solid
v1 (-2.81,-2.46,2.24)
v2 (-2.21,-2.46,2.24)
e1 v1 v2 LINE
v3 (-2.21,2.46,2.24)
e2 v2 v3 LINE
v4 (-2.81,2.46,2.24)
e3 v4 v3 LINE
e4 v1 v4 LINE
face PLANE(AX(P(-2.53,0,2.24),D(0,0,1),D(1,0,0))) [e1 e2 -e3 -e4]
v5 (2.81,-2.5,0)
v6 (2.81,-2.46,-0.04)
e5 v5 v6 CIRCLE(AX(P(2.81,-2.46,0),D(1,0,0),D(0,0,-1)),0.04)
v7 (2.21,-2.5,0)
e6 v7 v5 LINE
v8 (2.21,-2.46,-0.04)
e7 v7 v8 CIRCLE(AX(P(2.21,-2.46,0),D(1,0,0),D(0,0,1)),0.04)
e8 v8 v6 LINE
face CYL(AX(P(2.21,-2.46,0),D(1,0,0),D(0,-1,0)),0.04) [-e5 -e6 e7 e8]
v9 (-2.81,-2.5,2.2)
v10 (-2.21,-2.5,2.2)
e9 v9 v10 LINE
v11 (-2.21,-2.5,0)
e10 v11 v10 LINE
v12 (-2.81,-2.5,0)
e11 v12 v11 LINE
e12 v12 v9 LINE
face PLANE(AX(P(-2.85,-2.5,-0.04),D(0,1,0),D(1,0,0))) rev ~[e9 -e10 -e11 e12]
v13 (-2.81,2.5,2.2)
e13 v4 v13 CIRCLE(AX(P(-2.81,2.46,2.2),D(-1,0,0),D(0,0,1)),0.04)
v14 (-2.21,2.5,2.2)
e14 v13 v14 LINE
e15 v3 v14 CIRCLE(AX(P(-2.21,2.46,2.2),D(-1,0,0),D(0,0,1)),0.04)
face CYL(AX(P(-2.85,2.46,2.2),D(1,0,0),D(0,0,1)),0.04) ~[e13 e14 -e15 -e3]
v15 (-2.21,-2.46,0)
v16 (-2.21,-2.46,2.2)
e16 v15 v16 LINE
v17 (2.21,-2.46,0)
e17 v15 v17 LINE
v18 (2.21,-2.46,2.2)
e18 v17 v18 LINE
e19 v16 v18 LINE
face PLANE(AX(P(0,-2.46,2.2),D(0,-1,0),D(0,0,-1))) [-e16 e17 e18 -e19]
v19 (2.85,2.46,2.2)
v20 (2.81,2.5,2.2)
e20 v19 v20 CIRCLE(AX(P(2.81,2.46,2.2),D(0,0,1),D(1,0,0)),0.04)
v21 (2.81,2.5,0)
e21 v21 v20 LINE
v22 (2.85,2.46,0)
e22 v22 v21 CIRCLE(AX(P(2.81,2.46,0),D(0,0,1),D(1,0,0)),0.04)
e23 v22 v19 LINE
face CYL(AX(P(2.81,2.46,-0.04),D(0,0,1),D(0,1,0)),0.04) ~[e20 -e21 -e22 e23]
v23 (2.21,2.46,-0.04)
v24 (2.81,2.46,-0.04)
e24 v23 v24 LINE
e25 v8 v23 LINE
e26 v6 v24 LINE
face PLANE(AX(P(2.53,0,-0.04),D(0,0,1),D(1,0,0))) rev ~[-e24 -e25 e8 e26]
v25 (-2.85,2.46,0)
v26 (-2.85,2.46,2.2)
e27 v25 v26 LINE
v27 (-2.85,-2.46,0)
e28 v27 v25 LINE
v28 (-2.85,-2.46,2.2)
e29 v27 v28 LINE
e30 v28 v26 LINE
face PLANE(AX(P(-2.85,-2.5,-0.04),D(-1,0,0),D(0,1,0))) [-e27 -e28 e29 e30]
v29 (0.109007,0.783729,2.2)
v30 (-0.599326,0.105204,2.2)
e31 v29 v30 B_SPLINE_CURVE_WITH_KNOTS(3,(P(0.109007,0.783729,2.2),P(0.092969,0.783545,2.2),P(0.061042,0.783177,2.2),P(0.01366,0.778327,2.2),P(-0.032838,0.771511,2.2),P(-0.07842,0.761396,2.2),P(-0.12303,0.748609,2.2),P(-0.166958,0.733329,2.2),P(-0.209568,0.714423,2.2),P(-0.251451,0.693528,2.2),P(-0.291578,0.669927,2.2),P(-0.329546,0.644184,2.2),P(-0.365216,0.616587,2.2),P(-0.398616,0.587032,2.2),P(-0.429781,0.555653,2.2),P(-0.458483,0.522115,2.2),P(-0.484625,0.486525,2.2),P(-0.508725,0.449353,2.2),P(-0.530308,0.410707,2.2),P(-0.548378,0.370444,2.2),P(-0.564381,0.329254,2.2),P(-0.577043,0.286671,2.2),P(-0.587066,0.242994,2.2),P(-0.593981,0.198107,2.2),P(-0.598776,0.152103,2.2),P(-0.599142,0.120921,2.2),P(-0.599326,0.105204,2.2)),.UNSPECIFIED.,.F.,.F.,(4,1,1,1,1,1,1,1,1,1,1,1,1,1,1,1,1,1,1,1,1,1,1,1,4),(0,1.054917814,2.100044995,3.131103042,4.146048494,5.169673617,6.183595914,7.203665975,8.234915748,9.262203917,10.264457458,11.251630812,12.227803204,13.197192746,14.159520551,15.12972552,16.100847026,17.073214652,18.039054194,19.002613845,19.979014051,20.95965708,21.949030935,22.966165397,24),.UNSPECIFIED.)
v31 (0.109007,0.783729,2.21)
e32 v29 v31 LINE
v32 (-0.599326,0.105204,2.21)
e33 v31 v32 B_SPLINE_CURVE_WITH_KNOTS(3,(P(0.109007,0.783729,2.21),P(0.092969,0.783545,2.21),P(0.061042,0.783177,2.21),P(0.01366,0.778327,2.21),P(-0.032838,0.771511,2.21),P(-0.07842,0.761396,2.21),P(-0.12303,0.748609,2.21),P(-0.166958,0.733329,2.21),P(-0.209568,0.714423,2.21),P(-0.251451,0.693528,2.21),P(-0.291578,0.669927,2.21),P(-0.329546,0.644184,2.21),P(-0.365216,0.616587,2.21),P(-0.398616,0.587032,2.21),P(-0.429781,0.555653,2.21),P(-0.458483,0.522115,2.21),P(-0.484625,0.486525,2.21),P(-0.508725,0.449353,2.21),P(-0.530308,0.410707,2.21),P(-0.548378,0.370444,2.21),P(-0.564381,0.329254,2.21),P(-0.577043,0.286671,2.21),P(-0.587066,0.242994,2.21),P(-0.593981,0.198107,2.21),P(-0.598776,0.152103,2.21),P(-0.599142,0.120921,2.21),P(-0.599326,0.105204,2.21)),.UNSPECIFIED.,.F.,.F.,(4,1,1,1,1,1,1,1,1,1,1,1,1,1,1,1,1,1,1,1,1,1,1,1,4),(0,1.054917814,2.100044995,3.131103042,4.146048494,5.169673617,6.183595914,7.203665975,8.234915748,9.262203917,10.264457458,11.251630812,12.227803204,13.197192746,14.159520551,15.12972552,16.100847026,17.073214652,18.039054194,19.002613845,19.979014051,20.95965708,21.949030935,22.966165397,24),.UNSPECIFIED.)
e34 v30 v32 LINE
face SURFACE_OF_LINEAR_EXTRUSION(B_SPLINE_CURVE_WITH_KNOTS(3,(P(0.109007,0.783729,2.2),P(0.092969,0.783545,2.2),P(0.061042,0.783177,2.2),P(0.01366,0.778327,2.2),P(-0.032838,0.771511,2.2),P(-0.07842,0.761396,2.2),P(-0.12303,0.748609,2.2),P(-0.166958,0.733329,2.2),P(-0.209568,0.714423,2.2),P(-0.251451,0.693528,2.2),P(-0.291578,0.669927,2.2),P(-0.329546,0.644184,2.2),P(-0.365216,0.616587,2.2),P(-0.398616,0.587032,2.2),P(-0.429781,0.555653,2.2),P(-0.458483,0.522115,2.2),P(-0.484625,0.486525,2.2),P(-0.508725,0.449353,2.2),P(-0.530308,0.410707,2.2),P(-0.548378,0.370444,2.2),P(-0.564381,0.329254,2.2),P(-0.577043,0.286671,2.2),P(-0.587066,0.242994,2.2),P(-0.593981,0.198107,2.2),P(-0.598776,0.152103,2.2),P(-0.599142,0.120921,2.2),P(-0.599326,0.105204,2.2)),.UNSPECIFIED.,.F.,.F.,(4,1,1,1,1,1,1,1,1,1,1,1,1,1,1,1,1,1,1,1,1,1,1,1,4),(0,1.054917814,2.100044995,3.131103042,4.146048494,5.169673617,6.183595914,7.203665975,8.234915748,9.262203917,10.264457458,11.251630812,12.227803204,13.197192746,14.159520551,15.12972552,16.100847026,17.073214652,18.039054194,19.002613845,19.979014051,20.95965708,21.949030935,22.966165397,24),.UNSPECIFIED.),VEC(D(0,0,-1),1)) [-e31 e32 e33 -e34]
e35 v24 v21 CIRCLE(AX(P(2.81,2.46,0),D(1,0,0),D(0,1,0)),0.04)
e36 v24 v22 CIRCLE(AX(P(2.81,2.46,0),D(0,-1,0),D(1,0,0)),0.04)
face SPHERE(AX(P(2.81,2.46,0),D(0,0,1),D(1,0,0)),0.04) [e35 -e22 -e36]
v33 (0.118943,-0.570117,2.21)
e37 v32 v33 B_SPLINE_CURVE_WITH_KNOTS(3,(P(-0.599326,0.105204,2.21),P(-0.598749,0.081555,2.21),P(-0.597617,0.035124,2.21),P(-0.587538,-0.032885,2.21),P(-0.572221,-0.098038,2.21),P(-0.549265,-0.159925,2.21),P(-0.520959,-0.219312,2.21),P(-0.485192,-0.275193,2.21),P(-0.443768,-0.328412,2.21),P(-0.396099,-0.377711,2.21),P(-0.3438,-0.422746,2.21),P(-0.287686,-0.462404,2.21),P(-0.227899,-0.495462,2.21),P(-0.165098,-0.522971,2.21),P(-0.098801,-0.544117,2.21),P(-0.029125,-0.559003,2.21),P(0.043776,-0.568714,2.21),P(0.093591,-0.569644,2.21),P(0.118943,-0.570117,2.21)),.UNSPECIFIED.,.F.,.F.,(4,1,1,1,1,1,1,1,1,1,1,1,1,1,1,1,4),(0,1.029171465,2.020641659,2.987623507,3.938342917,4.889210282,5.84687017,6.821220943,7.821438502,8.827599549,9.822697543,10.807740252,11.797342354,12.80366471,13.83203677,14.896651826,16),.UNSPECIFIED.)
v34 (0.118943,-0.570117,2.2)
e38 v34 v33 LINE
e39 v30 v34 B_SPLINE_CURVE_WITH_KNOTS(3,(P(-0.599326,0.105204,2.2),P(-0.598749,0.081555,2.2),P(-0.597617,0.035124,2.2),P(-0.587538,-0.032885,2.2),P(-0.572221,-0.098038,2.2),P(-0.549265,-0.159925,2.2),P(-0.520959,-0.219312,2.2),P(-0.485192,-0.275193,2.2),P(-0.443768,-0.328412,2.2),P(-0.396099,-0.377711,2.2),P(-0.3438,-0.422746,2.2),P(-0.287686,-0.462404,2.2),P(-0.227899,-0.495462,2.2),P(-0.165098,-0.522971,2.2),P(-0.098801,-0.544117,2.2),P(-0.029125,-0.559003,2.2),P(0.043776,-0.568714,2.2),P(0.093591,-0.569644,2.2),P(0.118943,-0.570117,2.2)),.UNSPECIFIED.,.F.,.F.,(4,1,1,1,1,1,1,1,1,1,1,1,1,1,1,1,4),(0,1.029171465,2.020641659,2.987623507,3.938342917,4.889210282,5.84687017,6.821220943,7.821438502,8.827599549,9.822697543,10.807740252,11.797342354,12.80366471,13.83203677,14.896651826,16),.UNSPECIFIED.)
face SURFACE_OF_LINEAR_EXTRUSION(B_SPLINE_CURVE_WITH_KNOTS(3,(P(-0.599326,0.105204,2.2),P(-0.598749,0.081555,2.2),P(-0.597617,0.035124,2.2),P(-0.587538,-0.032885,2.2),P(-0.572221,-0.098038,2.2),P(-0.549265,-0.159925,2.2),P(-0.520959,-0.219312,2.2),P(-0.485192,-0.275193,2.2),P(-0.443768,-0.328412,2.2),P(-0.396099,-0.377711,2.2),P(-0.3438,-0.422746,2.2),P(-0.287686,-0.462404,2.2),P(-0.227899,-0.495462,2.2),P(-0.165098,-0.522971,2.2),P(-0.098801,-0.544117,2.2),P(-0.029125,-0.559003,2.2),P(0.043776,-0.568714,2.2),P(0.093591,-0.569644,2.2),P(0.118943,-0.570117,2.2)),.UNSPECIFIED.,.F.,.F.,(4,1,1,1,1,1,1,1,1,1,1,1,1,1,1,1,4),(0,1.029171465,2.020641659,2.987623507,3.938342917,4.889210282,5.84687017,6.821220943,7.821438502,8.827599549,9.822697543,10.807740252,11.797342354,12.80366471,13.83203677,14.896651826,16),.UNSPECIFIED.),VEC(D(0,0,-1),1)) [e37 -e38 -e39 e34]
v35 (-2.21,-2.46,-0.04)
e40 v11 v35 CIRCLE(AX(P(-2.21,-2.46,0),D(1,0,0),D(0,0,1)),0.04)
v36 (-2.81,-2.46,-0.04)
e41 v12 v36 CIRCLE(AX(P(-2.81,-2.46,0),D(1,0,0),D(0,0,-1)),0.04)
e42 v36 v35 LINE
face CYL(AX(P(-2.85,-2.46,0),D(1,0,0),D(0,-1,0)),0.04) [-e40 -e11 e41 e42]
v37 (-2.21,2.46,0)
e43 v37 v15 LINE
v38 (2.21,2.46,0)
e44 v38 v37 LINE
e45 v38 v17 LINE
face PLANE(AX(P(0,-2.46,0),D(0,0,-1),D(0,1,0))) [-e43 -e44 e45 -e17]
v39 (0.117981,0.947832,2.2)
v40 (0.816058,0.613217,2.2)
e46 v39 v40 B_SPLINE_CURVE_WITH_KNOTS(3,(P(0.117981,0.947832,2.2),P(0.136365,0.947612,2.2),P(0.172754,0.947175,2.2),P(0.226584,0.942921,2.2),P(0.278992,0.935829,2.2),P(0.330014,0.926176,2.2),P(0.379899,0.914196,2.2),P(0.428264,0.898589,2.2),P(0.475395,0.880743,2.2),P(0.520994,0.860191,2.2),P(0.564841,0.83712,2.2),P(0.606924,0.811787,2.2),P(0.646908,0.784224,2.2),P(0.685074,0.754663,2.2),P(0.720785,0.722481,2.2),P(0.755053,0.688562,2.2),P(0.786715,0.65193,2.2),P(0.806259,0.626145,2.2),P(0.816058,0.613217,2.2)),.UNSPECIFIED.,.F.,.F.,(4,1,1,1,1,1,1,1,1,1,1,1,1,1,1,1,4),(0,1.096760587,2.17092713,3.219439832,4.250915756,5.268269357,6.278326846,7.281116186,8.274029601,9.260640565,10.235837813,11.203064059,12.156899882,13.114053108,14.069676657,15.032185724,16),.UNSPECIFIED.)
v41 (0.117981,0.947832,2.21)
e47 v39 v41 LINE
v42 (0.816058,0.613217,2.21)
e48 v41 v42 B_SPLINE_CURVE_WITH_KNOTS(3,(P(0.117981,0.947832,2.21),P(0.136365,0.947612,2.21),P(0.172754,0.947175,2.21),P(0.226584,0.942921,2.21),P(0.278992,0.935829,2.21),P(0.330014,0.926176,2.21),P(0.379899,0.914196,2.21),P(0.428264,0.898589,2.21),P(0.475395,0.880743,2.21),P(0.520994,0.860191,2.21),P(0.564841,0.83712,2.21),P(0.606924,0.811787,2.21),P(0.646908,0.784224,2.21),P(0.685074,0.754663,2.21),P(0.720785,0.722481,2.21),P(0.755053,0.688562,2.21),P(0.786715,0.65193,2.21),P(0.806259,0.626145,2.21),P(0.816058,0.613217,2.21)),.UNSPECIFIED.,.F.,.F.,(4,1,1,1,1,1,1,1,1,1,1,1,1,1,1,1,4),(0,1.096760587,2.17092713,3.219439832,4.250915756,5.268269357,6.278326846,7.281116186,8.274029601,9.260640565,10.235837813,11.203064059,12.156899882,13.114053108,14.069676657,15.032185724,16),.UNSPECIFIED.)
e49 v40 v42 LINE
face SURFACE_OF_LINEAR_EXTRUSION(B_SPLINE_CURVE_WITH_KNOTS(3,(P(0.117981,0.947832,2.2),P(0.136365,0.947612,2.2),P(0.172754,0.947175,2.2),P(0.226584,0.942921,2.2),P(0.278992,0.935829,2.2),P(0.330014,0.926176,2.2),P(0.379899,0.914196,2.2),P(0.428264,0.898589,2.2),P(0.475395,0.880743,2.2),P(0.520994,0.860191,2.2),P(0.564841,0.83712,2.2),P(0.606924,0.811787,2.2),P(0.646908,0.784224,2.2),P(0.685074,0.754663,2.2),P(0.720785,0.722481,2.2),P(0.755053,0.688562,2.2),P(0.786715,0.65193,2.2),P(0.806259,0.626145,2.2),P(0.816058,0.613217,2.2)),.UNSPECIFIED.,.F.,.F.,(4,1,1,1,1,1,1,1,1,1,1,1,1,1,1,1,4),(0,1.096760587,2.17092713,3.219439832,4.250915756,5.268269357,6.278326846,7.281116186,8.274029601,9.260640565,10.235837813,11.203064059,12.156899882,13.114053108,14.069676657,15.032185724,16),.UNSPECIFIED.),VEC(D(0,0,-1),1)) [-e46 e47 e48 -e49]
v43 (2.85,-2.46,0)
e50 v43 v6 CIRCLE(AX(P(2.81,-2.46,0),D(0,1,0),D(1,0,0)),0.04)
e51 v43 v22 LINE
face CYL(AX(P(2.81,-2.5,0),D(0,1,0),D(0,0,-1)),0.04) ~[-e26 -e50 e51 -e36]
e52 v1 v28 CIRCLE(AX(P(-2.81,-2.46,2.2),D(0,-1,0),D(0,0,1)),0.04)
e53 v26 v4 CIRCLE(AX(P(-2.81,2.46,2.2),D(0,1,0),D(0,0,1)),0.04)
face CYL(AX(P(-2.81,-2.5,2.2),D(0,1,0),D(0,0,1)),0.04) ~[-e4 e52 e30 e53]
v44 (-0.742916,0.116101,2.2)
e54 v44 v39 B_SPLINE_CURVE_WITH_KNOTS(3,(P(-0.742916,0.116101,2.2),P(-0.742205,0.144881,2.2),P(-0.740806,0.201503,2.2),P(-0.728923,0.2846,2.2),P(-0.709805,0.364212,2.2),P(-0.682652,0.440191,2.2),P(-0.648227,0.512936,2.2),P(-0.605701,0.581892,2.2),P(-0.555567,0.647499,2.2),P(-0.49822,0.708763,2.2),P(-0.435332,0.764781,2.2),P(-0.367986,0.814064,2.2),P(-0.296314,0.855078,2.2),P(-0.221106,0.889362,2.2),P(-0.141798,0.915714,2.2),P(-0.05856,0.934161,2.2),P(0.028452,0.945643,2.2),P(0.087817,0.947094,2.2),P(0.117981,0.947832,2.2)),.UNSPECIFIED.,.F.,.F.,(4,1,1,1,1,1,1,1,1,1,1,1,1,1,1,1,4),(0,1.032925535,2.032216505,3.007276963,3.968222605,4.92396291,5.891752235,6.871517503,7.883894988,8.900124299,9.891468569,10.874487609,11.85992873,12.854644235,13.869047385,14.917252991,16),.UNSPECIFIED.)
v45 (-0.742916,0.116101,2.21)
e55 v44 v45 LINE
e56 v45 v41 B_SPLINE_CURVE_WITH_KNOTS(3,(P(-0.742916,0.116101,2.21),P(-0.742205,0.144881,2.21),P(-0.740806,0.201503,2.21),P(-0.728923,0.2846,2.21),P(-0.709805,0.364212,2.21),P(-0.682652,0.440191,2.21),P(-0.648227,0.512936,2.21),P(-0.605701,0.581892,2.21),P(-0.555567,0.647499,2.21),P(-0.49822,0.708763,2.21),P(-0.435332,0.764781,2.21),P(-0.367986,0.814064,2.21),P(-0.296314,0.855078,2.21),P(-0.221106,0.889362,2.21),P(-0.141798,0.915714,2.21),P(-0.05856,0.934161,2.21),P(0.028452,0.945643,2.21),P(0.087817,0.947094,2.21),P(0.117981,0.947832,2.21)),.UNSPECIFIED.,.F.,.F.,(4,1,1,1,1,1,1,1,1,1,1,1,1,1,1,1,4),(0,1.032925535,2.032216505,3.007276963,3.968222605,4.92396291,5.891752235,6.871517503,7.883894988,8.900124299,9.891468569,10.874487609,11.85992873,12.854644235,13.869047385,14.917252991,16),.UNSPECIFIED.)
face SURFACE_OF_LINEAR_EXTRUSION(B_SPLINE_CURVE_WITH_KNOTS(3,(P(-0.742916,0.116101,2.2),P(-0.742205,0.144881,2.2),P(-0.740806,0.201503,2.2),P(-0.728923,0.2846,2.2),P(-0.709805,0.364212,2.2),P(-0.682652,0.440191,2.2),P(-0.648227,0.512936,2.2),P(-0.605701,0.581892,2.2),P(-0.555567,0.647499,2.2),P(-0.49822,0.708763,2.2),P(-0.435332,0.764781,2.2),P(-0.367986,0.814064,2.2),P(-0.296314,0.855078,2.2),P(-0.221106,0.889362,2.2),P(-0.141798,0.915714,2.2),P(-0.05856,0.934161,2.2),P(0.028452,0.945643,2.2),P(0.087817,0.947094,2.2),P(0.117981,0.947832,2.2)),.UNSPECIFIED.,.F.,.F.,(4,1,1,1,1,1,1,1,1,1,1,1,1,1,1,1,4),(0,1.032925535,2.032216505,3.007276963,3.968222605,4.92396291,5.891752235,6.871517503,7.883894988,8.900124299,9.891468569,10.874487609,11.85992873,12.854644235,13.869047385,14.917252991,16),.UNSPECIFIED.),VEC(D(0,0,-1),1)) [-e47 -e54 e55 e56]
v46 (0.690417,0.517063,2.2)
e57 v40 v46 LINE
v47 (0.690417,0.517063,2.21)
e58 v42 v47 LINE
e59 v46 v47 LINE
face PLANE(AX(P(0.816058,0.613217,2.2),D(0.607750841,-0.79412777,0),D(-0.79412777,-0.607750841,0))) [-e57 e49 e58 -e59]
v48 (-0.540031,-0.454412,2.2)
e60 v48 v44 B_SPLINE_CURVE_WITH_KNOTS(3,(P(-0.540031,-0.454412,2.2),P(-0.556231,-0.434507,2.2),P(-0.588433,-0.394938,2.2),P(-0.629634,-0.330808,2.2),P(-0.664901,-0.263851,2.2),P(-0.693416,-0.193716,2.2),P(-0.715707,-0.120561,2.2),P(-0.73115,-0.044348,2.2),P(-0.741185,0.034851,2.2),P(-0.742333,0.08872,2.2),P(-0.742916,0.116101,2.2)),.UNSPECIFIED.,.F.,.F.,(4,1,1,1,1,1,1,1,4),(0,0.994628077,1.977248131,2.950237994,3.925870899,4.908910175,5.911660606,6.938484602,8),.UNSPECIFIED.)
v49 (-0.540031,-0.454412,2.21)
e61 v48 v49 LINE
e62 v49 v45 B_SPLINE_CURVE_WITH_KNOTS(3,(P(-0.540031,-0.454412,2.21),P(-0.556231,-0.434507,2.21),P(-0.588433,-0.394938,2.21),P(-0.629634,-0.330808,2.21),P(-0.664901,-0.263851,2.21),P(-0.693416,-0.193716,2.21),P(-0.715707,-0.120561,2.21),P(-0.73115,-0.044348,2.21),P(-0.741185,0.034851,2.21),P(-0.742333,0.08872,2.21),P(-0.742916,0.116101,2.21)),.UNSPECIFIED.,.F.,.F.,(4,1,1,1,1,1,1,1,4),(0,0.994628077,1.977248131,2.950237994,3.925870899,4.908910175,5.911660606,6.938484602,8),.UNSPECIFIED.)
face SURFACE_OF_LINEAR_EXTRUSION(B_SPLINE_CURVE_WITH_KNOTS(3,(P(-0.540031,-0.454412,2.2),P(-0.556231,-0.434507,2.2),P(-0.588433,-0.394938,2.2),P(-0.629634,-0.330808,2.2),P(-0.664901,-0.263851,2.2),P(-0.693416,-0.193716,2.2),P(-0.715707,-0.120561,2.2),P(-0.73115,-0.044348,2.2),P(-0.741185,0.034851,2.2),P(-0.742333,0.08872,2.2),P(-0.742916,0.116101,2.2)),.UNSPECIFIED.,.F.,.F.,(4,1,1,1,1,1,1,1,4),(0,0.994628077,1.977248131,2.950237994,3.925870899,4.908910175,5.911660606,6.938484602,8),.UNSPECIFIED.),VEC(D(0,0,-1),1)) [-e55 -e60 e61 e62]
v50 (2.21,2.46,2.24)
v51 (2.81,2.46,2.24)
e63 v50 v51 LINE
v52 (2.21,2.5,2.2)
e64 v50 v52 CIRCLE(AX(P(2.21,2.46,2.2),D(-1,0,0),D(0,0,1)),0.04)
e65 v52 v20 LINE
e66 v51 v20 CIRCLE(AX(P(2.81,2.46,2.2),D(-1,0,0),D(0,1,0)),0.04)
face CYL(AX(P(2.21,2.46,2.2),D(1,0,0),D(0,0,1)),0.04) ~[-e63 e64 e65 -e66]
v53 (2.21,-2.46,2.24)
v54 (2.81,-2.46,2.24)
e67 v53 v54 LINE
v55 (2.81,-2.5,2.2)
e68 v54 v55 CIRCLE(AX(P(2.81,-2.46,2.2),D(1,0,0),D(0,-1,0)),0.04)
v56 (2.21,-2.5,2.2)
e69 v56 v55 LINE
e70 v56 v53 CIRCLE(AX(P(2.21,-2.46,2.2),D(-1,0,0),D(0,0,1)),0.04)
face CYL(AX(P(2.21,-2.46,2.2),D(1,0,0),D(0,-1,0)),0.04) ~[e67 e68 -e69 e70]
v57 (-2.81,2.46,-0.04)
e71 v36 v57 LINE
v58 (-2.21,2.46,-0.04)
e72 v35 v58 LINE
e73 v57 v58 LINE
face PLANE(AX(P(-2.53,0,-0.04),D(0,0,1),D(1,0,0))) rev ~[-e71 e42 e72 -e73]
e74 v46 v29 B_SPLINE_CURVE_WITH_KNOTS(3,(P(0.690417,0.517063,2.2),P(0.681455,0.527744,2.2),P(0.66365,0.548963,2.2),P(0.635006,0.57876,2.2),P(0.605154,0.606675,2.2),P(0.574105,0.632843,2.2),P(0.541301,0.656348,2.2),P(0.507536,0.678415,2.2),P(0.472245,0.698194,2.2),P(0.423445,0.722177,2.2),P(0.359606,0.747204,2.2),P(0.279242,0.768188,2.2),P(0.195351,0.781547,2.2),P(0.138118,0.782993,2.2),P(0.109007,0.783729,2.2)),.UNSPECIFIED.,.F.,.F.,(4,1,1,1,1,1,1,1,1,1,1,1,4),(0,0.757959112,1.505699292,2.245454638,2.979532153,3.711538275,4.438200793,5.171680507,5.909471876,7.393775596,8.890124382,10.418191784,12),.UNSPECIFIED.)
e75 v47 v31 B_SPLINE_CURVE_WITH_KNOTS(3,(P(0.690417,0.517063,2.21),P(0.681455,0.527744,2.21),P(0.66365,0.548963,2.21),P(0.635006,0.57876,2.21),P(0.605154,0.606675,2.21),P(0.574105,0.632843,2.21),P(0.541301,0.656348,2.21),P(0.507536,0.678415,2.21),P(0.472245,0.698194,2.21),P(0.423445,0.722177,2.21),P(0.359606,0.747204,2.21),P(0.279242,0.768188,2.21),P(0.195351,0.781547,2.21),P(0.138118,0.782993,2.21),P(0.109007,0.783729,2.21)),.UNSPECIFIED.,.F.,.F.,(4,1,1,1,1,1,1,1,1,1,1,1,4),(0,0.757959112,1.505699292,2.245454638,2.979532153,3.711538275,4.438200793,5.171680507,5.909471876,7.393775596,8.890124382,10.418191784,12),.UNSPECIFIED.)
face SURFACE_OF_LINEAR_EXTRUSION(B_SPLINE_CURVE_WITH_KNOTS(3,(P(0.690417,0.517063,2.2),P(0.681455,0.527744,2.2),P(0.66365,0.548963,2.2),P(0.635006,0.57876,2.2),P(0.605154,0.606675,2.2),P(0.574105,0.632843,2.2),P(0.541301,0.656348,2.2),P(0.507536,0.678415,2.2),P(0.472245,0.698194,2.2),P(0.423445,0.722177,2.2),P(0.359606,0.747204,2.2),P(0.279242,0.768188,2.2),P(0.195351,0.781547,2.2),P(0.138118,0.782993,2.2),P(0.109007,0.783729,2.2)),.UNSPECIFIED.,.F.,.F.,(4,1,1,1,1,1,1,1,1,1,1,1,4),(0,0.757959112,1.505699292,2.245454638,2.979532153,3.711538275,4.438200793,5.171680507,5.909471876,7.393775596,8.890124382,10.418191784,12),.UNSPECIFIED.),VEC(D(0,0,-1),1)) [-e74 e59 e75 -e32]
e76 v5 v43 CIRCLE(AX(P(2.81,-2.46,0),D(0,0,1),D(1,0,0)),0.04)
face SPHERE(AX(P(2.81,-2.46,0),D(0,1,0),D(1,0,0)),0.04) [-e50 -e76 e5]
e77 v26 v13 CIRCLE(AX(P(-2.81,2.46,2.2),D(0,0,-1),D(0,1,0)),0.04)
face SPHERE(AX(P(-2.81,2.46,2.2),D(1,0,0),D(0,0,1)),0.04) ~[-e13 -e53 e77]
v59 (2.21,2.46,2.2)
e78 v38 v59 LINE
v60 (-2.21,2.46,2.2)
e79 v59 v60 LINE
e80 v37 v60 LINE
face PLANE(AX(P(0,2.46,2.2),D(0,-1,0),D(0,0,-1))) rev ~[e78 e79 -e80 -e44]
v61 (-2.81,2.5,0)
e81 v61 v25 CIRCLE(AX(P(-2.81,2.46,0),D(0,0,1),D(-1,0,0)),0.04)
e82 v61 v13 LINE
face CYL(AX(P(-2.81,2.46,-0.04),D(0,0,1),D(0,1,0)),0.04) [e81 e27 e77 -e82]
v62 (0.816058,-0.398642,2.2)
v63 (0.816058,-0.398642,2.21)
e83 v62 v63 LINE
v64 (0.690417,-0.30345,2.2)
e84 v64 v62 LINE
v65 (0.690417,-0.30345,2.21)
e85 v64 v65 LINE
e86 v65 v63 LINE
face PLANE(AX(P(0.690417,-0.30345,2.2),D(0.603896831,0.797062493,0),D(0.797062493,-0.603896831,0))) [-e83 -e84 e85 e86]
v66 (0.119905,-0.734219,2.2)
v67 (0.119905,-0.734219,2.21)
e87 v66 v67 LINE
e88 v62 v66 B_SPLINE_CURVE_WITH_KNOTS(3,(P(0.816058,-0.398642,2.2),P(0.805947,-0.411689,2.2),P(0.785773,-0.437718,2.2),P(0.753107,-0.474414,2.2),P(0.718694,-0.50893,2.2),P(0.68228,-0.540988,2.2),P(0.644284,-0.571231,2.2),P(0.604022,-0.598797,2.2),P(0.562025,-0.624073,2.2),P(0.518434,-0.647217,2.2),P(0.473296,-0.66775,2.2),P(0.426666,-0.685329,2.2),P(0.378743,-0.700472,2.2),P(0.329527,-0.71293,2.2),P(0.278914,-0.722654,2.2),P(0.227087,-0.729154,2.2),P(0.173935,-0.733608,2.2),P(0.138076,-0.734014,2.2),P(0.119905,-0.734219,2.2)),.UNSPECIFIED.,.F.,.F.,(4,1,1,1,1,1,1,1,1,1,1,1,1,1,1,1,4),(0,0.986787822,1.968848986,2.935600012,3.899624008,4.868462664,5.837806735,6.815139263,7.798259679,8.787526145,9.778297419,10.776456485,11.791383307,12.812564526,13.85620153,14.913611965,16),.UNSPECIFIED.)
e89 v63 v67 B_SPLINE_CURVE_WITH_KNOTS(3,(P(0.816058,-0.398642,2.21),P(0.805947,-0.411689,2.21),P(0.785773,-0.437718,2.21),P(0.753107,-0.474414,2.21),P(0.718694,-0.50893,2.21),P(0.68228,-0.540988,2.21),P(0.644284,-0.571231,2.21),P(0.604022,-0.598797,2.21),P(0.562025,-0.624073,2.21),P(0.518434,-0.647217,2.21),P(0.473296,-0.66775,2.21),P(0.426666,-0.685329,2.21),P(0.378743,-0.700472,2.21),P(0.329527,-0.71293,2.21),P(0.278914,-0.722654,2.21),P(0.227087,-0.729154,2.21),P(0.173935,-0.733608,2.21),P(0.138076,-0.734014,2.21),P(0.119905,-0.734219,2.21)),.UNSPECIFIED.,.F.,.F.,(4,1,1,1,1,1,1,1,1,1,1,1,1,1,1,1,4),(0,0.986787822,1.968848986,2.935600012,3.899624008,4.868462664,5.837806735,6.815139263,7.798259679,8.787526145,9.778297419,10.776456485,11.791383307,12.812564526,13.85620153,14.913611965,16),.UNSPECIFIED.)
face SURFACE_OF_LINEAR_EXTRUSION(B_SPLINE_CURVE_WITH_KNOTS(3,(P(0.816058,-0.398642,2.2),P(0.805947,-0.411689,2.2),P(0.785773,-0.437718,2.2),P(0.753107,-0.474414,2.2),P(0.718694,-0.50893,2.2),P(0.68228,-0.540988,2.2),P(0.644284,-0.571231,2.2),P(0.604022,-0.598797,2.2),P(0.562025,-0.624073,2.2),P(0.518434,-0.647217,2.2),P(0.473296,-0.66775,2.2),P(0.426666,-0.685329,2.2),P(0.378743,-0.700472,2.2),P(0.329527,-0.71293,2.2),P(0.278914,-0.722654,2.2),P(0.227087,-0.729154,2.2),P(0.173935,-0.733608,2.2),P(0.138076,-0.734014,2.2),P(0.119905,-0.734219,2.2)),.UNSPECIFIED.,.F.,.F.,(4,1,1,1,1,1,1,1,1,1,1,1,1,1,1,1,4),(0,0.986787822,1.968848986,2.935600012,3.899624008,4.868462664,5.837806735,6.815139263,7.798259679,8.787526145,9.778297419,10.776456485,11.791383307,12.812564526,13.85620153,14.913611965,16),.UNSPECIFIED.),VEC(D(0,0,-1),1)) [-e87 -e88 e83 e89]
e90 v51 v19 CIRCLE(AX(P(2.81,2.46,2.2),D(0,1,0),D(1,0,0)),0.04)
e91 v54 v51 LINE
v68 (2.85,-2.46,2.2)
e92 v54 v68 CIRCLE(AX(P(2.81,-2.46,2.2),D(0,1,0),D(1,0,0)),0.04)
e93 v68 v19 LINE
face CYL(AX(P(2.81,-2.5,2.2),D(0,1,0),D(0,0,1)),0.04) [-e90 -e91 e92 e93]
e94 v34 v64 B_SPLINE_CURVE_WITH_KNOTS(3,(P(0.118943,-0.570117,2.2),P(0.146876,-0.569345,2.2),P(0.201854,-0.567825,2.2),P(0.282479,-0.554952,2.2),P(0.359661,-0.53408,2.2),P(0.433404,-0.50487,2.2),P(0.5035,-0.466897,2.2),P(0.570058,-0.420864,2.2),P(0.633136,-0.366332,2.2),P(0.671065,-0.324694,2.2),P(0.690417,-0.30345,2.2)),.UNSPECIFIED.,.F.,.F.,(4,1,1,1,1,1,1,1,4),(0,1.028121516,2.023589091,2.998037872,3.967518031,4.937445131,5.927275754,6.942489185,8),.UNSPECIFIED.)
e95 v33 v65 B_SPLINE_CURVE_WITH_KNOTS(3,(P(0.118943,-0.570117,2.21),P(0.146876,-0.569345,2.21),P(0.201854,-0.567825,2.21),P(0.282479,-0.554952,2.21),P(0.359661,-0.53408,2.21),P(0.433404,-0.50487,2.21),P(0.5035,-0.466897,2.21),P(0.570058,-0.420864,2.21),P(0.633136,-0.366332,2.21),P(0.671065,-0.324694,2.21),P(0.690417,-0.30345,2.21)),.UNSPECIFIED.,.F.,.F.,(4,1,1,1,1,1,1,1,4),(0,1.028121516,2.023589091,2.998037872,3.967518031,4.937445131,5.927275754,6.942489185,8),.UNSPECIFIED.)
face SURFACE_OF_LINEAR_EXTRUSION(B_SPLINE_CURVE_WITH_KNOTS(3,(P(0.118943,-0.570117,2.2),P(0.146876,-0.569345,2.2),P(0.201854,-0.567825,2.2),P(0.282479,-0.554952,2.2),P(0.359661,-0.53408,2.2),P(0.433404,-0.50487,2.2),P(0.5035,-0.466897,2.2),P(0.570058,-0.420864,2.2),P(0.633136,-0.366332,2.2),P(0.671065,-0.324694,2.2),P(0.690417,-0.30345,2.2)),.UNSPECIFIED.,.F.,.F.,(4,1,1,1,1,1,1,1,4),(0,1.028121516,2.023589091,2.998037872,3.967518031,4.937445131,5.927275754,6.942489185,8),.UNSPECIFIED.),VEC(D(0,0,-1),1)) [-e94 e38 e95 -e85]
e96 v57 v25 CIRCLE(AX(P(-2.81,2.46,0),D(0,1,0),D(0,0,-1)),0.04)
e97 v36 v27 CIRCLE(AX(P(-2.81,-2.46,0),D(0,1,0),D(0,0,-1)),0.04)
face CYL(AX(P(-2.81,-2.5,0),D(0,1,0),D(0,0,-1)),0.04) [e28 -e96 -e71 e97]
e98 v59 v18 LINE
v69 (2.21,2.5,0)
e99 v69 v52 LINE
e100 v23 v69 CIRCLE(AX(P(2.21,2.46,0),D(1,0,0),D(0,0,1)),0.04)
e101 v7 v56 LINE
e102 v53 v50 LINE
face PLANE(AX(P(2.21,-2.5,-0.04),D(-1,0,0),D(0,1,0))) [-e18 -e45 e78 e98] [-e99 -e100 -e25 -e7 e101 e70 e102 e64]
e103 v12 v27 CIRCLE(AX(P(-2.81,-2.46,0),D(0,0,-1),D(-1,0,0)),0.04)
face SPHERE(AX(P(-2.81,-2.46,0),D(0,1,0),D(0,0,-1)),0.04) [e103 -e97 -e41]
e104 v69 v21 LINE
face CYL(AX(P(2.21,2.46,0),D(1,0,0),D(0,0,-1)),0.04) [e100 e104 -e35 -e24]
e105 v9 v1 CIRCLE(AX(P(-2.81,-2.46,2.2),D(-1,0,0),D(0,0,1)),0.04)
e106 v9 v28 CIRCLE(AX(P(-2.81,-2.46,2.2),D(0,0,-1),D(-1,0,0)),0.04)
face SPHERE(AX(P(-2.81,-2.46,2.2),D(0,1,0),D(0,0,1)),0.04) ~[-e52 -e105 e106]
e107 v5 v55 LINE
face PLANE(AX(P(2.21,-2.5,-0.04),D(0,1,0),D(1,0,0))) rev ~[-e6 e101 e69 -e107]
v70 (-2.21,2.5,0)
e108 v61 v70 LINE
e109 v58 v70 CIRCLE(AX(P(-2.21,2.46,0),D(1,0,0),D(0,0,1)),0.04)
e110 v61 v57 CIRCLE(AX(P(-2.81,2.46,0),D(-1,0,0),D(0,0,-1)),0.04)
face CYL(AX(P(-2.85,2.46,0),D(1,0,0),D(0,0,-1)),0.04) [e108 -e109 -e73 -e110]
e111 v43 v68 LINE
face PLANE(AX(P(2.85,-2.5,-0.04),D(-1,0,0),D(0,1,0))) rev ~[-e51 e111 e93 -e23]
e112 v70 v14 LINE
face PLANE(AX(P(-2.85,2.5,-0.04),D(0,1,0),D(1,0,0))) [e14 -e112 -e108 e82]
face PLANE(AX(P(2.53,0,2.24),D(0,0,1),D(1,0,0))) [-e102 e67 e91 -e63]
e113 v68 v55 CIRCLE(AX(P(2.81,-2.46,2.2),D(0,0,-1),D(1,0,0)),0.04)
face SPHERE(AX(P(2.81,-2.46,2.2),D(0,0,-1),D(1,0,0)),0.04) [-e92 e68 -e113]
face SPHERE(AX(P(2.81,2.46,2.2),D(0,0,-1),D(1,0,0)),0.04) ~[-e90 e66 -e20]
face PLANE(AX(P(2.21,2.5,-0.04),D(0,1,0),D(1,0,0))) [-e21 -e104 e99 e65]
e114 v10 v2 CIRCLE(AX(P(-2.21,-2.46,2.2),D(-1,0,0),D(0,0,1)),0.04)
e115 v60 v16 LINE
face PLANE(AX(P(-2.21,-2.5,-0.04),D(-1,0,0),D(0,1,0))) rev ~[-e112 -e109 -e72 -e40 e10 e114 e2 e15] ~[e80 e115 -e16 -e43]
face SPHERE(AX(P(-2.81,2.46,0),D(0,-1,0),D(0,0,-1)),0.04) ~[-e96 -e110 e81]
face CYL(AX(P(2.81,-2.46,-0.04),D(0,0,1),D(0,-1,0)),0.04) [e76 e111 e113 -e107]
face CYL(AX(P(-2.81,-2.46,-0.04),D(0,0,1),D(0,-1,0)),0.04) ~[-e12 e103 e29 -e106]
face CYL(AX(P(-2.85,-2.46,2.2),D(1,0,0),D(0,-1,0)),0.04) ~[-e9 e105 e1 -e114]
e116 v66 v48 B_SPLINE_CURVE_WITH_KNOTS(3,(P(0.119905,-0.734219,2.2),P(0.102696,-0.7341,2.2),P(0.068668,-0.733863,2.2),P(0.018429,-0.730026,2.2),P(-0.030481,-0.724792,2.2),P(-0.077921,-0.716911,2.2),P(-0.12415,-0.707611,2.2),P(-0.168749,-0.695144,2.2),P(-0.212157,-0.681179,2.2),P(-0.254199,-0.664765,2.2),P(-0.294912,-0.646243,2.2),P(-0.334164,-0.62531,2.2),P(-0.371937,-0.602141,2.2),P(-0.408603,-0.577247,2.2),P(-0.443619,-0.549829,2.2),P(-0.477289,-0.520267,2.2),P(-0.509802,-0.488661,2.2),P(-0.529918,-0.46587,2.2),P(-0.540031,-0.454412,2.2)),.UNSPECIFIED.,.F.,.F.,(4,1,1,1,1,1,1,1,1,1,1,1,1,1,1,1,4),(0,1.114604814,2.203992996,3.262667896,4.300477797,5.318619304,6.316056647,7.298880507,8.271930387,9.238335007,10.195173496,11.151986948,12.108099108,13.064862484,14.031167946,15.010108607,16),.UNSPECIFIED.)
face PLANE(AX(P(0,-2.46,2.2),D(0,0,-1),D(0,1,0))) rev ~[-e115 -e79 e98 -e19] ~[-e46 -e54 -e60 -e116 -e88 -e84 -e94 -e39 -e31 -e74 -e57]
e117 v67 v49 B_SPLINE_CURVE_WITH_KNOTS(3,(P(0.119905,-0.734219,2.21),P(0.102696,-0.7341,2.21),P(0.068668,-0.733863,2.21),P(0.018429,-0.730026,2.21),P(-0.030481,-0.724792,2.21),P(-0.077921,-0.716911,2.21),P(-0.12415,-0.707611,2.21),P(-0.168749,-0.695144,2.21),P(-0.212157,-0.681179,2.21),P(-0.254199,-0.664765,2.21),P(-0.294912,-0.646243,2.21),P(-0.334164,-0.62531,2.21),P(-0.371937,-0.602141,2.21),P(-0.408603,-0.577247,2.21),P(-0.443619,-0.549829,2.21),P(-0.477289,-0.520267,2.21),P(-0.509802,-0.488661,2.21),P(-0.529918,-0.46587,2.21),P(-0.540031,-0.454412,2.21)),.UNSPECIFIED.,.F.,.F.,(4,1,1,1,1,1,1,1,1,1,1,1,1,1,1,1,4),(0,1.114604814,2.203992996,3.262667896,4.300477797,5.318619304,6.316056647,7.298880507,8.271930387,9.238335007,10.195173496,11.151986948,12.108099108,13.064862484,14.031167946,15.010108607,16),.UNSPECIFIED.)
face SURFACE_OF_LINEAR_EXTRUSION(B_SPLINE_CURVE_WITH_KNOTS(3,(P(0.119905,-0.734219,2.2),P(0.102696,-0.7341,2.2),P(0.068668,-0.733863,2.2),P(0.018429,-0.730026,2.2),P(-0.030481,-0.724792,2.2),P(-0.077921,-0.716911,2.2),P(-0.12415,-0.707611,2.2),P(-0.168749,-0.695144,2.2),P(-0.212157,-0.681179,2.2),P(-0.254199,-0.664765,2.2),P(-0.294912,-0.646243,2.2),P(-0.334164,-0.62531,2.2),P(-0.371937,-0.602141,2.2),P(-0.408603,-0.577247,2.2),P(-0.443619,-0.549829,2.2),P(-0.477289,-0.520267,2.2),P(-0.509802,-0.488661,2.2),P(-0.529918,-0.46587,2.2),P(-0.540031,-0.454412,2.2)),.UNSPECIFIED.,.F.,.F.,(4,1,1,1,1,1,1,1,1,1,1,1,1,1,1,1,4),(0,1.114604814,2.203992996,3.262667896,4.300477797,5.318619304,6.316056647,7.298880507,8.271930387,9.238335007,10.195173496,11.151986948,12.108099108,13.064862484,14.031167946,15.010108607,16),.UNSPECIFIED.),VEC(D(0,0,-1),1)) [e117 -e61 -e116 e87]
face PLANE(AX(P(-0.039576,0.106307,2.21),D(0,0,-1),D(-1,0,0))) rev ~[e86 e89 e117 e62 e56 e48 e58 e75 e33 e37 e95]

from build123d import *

# Parameters (mm, degrees)
EXTRUDE_1_DEPTH        = 2.24
EXTRUDE_1_DEPTH_BACK   = 0.04
SKETCH_3_W             = 0.64
SKETCH_3_H             = 5
EXTRUDE_1_2_DEPTH      = 2.24
EXTRUDE_1_2_DEPTH_BACK = 0.04
SKETCH_5_W             = 2.2
SKETCH_5_H             = 4.92
EXTRUDE_3_DEPTH        = 2.26
FILLET_3_R             = 0.04
EXTRUDE_4_DEPTH        = 0.01


with BuildPart() as part:
    # 草图3 → 凸台-拉伸1 (new, two sides: drawn at the far end of the back side and taken through both)
    with BuildSketch(Plane.XY.offset(-EXTRUDE_1_DEPTH_BACK)):
        with Locations((-2.53, 0)):
            Rectangle(SKETCH_3_W, SKETCH_3_H)
    extrude(amount=EXTRUDE_1_DEPTH + EXTRUDE_1_DEPTH_BACK)



with BuildPart() as body_2:
    # 草图3 → Extrude 1 2 (new, two sides: drawn at the far end of the back side and taken through both)
    with BuildSketch(Plane.XY.offset(-EXTRUDE_1_2_DEPTH_BACK)):
        with Locations((2.53, 0)):
            Rectangle(SKETCH_3_W, SKETCH_3_H)
    extrude(amount=EXTRUDE_1_2_DEPTH + EXTRUDE_1_2_DEPTH_BACK)


with BuildPart() as part_1:
    add(part.part)

    add(body_2.part)  # 凸台-拉伸3 merges body 2
    # 草图5 → 凸台-拉伸3 (add, symmetric)
    with BuildSketch(Plane(origin=(0, 0, 0), x_dir=(0, 0, -1), z_dir=(1, 0, 0))):
        with Locations((-1.1, 0)):
            Rectangle(SKETCH_5_W, SKETCH_5_H)
    extrude(amount=EXTRUDE_3_DEPTH, both=True)

    # 圆角3
    fillet_3_edges = [part_1.edges().sort_by_distance(p)[0] for p in [
        (-2.85, 0, -0.04),
        (-2.53, 2.5, 2.24),
        (-2.53, -2.5, -0.04),
        (-2.85, 0, 2.24),
        (-2.53, -2.5, 2.24),
        (2.85, 2.5, 1.1),
        (2.85, 0, -0.04),
        (2.85, -2.5, 1.1),
        (2.53, -2.5, -0.04),
        (2.53, 2.5, -0.04),
        (2.85, 0, 2.24),
        (2.53, 2.5, 2.24),
        (2.53, -2.5, 2.24),
        (-2.53, 2.5, -0.04),
        (-2.85, -2.5, 1.1),
        (-2.85, 2.5, 1.1),
    ]]
    fillet(fillet_3_edges, radius=FILLET_3_R)

    # 草图6 → 凸台-拉伸4 (add)
    with BuildSketch(Plane.XY.offset(2.2)):
        with BuildLine():
            Line((0.816058378, 0.613216546), (0.690417352, 0.5170627))
            add(Edge.make_bspline(
                [(0.690417352, 0.5170627), (0.681454661, 0.527744286), (0.663650113, 0.548963447), (0.635005907, 0.578759811), (0.605153727, 0.606675359), (0.574104986, 0.632843075), (0.541300817, 0.656347882), (0.50753588, 0.678414672), (0.472245345, 0.69819421), (0.423444553, 0.722177289), (0.359605536, 0.747204103), (0.279242181, 0.768188437), (0.195351393, 0.781546689), (0.138118205, 0.782993473), (0.109007096, 0.783729366)],
                knots=[0, 0, 0, 0, 0.757959112, 1.505699292, 2.245454638, 2.979532153, 3.711538275, 4.438200793, 5.171680507, 5.909471876, 7.393775596, 8.890124382, 10.418191784, 12, 12, 12, 12], degree=3))
            add(Edge.make_bspline(
                [(0.109007096, 0.783729366), (0.092969016, 0.783544698), (0.061041705, 0.783177075), (0.013659546, 0.778327189), (-0.032837849, 0.771510636), (-0.078420233, 0.761396202), (-0.123029586, 0.748608719), (-0.166957541, 0.73332853), (-0.209568101, 0.71442346), (-0.251450724, 0.693528256), (-0.291578363, 0.669927138), (-0.329546385, 0.644183892), (-0.365216313, 0.61658659), (-0.398616365, 0.587031799), (-0.429780684, 0.555652617), (-0.458483455, 0.522114632), (-0.484625356, 0.486525067), (-0.508724568, 0.449353224), (-0.530307532, 0.410707376), (-0.548378334, 0.370444487), (-0.564380675, 0.32925404), (-0.577043186, 0.286670652), (-0.587065822, 0.242993959), (-0.593981326, 0.198106742), (-0.598776055, 0.152102774), (-0.59914185, 0.120921374), (-0.599326237, 0.105203725)],
                knots=[0, 0, 0, 0, 1.054917814, 2.100044995, 3.131103042, 4.146048494, 5.169673617, 6.183595914, 7.203665975, 8.234915748, 9.262203917, 10.264457458, 11.251630812, 12.227803204, 13.197192746, 14.159520551, 15.12972552, 16.100847026, 17.073214652, 18.039054194, 19.002613845, 19.979014051, 20.95965708, 21.949030935, 22.966165397, 24, 24, 24, 24], degree=3))
            add(Edge.make_bspline(
                [(-0.599326237, 0.105203725), (-0.598749406, 0.081555122), (-0.597616874, 0.035124226), (-0.587537635, -0.032885196), (-0.572221022, -0.098037504), (-0.54926533, -0.159925432), (-0.520959478, -0.21931211), (-0.485192341, -0.275192728), (-0.443767638, -0.328411729), (-0.396099332, -0.377711363), (-0.343799531, -0.422746208), (-0.2876862, -0.462403617), (-0.227899097, -0.495461849), (-0.165098352, -0.522970853), (-0.0988007, -0.544116786), (-0.029125361, -0.559003242), (0.043776122, -0.568713953), (0.093590705, -0.569643639), (0.118942993, -0.570116787)],
                knots=[0, 0, 0, 0, 1.029171465, 2.020641659, 2.987623507, 3.938342917, 4.889210282, 5.84687017, 6.821220943, 7.821438502, 8.827599549, 9.822697543, 10.807740252, 11.797342354, 12.80366471, 13.83203677, 14.896651826, 16, 16, 16, 16], degree=3))
            add(Edge.make_bspline(
                [(0.118942993, -0.570116787), (0.146875651, -0.569344774), (0.201853804, -0.567825266), (0.282479187, -0.554952467), (0.359661252, -0.534080276), (0.433404148, -0.504869797), (0.503499987, -0.466897094), (0.57005846, -0.420863779), (0.633135749, -0.366331969), (0.671065478, -0.324693968), (0.690417352, -0.303450121)],
                knots=[0, 0, 0, 0, 1.028121516, 2.023589091, 2.998037872, 3.967518031, 4.937445131, 5.927275754, 6.942489185, 8, 8, 8, 8], degree=3))
            Line((0.690417352, -0.303450121), (0.816058378, -0.398642428))
            add(Edge.make_bspline(
                [(0.816058378, -0.398642428), (0.805947242, -0.411688578), (0.785773402, -0.437718386), (0.75310688, -0.474414025), (0.718694401, -0.508930156), (0.682280362, -0.540988497), (0.644283658, -0.571230538), (0.604022029, -0.59879709), (0.562024757, -0.624072923), (0.518434138, -0.647216659), (0.473296487, -0.667750258), (0.426665888, -0.685329123), (0.378743339, -0.70047193), (0.329526649, -0.712929958), (0.278913732, -0.722653882), (0.22708723, -0.729154305), (0.173935287, -0.733607752), (0.138076351, -0.734013656), (0.119904532, -0.734219352)],
                knots=[0, 0, 0, 0, 0.986787822, 1.968848986, 2.935600012, 3.899624008, 4.868462664, 5.837806735, 6.815139263, 7.798259679, 8.787526145, 9.778297419, 10.776456485, 11.791383307, 12.812564526, 13.85620153, 14.913611965, 16, 16, 16, 16], degree=3))
            add(Edge.make_bspline(
                [(0.119904532, -0.734219352), (0.102695998, -0.734099583), (0.068668254, -0.733862757), (0.018428825, -0.730026338), (-0.030480698, -0.724792172), (-0.077920527, -0.716910969), (-0.124149544, -0.7076107), (-0.168748668, -0.69514384), (-0.212156764, -0.681178506), (-0.254199434, -0.664764798), (-0.29491244, -0.646243115), (-0.334164468, -0.62530983), (-0.371937466, -0.602140978), (-0.408602801, -0.577247259), (-0.443618839, -0.549829064), (-0.477289022, -0.520267174), (-0.509802154, -0.488661226), (-0.529917667, -0.465870436), (-0.540031366, -0.454411659)],
                knots=[0, 0, 0, 0, 1.114604814, 2.203992996, 3.262667896, 4.300477797, 5.318619304, 6.316056647, 7.298880507, 8.271930387, 9.238335007, 10.195173496, 11.151986948, 12.108099108, 13.064862484, 14.031167946, 15.010108607, 16, 16, 16, 16], degree=3))
            add(Edge.make_bspline(
                [(-0.540031366, -0.454411659), (-0.556230517, -0.434507116), (-0.588433249, -0.394938334), (-0.629633562, -0.3308076), (-0.664901015, -0.263850704), (-0.693415722, -0.193715879), (-0.715707257, -0.120560502), (-0.731150089, -0.044347696), (-0.741185108, 0.034851363), (-0.742332669, 0.08871961), (-0.742915981, 0.116101161)],
                knots=[0, 0, 0, 0, 0.994628077, 1.977248131, 2.950237994, 3.925870899, 4.908910175, 5.911660606, 6.938484602, 8, 8, 8, 8], degree=3))
            add(Edge.make_bspline(
                [(-0.742915981, 0.116101161), (-0.742205035, 0.144880797), (-0.740806294, 0.201502934), (-0.728922502, 0.284599599), (-0.709805338, 0.364211667), (-0.682652475, 0.440190521), (-0.648227171, 0.512935792), (-0.605700719, 0.581891772), (-0.555567168, 0.647499451), (-0.498219709, 0.708763338), (-0.435331784, 0.764781327), (-0.367986041, 0.814064163), (-0.296314293, 0.855077885), (-0.221106133, 0.889361845), (-0.141798393, 0.9157136), (-0.058560281, 0.934160771), (0.028451794, 0.945642881), (0.087817475, 0.947094405), (0.117981455, 0.947831931)],
                knots=[0, 0, 0, 0, 1.032925535, 2.032216505, 3.007276963, 3.968222605, 4.92396291, 5.891752235, 6.871517503, 7.883894988, 8.900124299, 9.891468569, 10.874487609, 11.85992873, 12.854644235, 13.869047385, 14.917252991, 16, 16, 16, 16], degree=3))
            add(Edge.make_bspline(
                [(0.117981455, 0.947831931), (0.136365214, 0.947611525), (0.172754012, 0.947175253), (0.226583796, 0.942921017), (0.278991717, 0.935829082), (0.33001388, 0.926176022), (0.379898505, 0.914195532), (0.428264329, 0.898588538), (0.475395158, 0.880743267), (0.520993744, 0.860190825), (0.56484131, 0.837120315), (0.606924198, 0.811787459), (0.646908134, 0.784223662), (0.685074465, 0.754663353), (0.720784733, 0.722481155), (0.755052837, 0.688562254), (0.786715044, 0.651929648), (0.806259362, 0.626144536), (0.816058378, 0.613216546)],
                knots=[0, 0, 0, 0, 1.096760587, 2.17092713, 3.219439832, 4.250915756, 5.268269357, 6.278326846, 7.281116186, 8.274029601, 9.260640565, 10.235837813, 11.203064059, 12.156899882, 13.114053108, 14.069676657, 15.032185724, 16, 16, 16, 16], degree=3))
        make_face()
    extrude(amount=EXTRUDE_4_DEPTH)


solid = part_1.part
